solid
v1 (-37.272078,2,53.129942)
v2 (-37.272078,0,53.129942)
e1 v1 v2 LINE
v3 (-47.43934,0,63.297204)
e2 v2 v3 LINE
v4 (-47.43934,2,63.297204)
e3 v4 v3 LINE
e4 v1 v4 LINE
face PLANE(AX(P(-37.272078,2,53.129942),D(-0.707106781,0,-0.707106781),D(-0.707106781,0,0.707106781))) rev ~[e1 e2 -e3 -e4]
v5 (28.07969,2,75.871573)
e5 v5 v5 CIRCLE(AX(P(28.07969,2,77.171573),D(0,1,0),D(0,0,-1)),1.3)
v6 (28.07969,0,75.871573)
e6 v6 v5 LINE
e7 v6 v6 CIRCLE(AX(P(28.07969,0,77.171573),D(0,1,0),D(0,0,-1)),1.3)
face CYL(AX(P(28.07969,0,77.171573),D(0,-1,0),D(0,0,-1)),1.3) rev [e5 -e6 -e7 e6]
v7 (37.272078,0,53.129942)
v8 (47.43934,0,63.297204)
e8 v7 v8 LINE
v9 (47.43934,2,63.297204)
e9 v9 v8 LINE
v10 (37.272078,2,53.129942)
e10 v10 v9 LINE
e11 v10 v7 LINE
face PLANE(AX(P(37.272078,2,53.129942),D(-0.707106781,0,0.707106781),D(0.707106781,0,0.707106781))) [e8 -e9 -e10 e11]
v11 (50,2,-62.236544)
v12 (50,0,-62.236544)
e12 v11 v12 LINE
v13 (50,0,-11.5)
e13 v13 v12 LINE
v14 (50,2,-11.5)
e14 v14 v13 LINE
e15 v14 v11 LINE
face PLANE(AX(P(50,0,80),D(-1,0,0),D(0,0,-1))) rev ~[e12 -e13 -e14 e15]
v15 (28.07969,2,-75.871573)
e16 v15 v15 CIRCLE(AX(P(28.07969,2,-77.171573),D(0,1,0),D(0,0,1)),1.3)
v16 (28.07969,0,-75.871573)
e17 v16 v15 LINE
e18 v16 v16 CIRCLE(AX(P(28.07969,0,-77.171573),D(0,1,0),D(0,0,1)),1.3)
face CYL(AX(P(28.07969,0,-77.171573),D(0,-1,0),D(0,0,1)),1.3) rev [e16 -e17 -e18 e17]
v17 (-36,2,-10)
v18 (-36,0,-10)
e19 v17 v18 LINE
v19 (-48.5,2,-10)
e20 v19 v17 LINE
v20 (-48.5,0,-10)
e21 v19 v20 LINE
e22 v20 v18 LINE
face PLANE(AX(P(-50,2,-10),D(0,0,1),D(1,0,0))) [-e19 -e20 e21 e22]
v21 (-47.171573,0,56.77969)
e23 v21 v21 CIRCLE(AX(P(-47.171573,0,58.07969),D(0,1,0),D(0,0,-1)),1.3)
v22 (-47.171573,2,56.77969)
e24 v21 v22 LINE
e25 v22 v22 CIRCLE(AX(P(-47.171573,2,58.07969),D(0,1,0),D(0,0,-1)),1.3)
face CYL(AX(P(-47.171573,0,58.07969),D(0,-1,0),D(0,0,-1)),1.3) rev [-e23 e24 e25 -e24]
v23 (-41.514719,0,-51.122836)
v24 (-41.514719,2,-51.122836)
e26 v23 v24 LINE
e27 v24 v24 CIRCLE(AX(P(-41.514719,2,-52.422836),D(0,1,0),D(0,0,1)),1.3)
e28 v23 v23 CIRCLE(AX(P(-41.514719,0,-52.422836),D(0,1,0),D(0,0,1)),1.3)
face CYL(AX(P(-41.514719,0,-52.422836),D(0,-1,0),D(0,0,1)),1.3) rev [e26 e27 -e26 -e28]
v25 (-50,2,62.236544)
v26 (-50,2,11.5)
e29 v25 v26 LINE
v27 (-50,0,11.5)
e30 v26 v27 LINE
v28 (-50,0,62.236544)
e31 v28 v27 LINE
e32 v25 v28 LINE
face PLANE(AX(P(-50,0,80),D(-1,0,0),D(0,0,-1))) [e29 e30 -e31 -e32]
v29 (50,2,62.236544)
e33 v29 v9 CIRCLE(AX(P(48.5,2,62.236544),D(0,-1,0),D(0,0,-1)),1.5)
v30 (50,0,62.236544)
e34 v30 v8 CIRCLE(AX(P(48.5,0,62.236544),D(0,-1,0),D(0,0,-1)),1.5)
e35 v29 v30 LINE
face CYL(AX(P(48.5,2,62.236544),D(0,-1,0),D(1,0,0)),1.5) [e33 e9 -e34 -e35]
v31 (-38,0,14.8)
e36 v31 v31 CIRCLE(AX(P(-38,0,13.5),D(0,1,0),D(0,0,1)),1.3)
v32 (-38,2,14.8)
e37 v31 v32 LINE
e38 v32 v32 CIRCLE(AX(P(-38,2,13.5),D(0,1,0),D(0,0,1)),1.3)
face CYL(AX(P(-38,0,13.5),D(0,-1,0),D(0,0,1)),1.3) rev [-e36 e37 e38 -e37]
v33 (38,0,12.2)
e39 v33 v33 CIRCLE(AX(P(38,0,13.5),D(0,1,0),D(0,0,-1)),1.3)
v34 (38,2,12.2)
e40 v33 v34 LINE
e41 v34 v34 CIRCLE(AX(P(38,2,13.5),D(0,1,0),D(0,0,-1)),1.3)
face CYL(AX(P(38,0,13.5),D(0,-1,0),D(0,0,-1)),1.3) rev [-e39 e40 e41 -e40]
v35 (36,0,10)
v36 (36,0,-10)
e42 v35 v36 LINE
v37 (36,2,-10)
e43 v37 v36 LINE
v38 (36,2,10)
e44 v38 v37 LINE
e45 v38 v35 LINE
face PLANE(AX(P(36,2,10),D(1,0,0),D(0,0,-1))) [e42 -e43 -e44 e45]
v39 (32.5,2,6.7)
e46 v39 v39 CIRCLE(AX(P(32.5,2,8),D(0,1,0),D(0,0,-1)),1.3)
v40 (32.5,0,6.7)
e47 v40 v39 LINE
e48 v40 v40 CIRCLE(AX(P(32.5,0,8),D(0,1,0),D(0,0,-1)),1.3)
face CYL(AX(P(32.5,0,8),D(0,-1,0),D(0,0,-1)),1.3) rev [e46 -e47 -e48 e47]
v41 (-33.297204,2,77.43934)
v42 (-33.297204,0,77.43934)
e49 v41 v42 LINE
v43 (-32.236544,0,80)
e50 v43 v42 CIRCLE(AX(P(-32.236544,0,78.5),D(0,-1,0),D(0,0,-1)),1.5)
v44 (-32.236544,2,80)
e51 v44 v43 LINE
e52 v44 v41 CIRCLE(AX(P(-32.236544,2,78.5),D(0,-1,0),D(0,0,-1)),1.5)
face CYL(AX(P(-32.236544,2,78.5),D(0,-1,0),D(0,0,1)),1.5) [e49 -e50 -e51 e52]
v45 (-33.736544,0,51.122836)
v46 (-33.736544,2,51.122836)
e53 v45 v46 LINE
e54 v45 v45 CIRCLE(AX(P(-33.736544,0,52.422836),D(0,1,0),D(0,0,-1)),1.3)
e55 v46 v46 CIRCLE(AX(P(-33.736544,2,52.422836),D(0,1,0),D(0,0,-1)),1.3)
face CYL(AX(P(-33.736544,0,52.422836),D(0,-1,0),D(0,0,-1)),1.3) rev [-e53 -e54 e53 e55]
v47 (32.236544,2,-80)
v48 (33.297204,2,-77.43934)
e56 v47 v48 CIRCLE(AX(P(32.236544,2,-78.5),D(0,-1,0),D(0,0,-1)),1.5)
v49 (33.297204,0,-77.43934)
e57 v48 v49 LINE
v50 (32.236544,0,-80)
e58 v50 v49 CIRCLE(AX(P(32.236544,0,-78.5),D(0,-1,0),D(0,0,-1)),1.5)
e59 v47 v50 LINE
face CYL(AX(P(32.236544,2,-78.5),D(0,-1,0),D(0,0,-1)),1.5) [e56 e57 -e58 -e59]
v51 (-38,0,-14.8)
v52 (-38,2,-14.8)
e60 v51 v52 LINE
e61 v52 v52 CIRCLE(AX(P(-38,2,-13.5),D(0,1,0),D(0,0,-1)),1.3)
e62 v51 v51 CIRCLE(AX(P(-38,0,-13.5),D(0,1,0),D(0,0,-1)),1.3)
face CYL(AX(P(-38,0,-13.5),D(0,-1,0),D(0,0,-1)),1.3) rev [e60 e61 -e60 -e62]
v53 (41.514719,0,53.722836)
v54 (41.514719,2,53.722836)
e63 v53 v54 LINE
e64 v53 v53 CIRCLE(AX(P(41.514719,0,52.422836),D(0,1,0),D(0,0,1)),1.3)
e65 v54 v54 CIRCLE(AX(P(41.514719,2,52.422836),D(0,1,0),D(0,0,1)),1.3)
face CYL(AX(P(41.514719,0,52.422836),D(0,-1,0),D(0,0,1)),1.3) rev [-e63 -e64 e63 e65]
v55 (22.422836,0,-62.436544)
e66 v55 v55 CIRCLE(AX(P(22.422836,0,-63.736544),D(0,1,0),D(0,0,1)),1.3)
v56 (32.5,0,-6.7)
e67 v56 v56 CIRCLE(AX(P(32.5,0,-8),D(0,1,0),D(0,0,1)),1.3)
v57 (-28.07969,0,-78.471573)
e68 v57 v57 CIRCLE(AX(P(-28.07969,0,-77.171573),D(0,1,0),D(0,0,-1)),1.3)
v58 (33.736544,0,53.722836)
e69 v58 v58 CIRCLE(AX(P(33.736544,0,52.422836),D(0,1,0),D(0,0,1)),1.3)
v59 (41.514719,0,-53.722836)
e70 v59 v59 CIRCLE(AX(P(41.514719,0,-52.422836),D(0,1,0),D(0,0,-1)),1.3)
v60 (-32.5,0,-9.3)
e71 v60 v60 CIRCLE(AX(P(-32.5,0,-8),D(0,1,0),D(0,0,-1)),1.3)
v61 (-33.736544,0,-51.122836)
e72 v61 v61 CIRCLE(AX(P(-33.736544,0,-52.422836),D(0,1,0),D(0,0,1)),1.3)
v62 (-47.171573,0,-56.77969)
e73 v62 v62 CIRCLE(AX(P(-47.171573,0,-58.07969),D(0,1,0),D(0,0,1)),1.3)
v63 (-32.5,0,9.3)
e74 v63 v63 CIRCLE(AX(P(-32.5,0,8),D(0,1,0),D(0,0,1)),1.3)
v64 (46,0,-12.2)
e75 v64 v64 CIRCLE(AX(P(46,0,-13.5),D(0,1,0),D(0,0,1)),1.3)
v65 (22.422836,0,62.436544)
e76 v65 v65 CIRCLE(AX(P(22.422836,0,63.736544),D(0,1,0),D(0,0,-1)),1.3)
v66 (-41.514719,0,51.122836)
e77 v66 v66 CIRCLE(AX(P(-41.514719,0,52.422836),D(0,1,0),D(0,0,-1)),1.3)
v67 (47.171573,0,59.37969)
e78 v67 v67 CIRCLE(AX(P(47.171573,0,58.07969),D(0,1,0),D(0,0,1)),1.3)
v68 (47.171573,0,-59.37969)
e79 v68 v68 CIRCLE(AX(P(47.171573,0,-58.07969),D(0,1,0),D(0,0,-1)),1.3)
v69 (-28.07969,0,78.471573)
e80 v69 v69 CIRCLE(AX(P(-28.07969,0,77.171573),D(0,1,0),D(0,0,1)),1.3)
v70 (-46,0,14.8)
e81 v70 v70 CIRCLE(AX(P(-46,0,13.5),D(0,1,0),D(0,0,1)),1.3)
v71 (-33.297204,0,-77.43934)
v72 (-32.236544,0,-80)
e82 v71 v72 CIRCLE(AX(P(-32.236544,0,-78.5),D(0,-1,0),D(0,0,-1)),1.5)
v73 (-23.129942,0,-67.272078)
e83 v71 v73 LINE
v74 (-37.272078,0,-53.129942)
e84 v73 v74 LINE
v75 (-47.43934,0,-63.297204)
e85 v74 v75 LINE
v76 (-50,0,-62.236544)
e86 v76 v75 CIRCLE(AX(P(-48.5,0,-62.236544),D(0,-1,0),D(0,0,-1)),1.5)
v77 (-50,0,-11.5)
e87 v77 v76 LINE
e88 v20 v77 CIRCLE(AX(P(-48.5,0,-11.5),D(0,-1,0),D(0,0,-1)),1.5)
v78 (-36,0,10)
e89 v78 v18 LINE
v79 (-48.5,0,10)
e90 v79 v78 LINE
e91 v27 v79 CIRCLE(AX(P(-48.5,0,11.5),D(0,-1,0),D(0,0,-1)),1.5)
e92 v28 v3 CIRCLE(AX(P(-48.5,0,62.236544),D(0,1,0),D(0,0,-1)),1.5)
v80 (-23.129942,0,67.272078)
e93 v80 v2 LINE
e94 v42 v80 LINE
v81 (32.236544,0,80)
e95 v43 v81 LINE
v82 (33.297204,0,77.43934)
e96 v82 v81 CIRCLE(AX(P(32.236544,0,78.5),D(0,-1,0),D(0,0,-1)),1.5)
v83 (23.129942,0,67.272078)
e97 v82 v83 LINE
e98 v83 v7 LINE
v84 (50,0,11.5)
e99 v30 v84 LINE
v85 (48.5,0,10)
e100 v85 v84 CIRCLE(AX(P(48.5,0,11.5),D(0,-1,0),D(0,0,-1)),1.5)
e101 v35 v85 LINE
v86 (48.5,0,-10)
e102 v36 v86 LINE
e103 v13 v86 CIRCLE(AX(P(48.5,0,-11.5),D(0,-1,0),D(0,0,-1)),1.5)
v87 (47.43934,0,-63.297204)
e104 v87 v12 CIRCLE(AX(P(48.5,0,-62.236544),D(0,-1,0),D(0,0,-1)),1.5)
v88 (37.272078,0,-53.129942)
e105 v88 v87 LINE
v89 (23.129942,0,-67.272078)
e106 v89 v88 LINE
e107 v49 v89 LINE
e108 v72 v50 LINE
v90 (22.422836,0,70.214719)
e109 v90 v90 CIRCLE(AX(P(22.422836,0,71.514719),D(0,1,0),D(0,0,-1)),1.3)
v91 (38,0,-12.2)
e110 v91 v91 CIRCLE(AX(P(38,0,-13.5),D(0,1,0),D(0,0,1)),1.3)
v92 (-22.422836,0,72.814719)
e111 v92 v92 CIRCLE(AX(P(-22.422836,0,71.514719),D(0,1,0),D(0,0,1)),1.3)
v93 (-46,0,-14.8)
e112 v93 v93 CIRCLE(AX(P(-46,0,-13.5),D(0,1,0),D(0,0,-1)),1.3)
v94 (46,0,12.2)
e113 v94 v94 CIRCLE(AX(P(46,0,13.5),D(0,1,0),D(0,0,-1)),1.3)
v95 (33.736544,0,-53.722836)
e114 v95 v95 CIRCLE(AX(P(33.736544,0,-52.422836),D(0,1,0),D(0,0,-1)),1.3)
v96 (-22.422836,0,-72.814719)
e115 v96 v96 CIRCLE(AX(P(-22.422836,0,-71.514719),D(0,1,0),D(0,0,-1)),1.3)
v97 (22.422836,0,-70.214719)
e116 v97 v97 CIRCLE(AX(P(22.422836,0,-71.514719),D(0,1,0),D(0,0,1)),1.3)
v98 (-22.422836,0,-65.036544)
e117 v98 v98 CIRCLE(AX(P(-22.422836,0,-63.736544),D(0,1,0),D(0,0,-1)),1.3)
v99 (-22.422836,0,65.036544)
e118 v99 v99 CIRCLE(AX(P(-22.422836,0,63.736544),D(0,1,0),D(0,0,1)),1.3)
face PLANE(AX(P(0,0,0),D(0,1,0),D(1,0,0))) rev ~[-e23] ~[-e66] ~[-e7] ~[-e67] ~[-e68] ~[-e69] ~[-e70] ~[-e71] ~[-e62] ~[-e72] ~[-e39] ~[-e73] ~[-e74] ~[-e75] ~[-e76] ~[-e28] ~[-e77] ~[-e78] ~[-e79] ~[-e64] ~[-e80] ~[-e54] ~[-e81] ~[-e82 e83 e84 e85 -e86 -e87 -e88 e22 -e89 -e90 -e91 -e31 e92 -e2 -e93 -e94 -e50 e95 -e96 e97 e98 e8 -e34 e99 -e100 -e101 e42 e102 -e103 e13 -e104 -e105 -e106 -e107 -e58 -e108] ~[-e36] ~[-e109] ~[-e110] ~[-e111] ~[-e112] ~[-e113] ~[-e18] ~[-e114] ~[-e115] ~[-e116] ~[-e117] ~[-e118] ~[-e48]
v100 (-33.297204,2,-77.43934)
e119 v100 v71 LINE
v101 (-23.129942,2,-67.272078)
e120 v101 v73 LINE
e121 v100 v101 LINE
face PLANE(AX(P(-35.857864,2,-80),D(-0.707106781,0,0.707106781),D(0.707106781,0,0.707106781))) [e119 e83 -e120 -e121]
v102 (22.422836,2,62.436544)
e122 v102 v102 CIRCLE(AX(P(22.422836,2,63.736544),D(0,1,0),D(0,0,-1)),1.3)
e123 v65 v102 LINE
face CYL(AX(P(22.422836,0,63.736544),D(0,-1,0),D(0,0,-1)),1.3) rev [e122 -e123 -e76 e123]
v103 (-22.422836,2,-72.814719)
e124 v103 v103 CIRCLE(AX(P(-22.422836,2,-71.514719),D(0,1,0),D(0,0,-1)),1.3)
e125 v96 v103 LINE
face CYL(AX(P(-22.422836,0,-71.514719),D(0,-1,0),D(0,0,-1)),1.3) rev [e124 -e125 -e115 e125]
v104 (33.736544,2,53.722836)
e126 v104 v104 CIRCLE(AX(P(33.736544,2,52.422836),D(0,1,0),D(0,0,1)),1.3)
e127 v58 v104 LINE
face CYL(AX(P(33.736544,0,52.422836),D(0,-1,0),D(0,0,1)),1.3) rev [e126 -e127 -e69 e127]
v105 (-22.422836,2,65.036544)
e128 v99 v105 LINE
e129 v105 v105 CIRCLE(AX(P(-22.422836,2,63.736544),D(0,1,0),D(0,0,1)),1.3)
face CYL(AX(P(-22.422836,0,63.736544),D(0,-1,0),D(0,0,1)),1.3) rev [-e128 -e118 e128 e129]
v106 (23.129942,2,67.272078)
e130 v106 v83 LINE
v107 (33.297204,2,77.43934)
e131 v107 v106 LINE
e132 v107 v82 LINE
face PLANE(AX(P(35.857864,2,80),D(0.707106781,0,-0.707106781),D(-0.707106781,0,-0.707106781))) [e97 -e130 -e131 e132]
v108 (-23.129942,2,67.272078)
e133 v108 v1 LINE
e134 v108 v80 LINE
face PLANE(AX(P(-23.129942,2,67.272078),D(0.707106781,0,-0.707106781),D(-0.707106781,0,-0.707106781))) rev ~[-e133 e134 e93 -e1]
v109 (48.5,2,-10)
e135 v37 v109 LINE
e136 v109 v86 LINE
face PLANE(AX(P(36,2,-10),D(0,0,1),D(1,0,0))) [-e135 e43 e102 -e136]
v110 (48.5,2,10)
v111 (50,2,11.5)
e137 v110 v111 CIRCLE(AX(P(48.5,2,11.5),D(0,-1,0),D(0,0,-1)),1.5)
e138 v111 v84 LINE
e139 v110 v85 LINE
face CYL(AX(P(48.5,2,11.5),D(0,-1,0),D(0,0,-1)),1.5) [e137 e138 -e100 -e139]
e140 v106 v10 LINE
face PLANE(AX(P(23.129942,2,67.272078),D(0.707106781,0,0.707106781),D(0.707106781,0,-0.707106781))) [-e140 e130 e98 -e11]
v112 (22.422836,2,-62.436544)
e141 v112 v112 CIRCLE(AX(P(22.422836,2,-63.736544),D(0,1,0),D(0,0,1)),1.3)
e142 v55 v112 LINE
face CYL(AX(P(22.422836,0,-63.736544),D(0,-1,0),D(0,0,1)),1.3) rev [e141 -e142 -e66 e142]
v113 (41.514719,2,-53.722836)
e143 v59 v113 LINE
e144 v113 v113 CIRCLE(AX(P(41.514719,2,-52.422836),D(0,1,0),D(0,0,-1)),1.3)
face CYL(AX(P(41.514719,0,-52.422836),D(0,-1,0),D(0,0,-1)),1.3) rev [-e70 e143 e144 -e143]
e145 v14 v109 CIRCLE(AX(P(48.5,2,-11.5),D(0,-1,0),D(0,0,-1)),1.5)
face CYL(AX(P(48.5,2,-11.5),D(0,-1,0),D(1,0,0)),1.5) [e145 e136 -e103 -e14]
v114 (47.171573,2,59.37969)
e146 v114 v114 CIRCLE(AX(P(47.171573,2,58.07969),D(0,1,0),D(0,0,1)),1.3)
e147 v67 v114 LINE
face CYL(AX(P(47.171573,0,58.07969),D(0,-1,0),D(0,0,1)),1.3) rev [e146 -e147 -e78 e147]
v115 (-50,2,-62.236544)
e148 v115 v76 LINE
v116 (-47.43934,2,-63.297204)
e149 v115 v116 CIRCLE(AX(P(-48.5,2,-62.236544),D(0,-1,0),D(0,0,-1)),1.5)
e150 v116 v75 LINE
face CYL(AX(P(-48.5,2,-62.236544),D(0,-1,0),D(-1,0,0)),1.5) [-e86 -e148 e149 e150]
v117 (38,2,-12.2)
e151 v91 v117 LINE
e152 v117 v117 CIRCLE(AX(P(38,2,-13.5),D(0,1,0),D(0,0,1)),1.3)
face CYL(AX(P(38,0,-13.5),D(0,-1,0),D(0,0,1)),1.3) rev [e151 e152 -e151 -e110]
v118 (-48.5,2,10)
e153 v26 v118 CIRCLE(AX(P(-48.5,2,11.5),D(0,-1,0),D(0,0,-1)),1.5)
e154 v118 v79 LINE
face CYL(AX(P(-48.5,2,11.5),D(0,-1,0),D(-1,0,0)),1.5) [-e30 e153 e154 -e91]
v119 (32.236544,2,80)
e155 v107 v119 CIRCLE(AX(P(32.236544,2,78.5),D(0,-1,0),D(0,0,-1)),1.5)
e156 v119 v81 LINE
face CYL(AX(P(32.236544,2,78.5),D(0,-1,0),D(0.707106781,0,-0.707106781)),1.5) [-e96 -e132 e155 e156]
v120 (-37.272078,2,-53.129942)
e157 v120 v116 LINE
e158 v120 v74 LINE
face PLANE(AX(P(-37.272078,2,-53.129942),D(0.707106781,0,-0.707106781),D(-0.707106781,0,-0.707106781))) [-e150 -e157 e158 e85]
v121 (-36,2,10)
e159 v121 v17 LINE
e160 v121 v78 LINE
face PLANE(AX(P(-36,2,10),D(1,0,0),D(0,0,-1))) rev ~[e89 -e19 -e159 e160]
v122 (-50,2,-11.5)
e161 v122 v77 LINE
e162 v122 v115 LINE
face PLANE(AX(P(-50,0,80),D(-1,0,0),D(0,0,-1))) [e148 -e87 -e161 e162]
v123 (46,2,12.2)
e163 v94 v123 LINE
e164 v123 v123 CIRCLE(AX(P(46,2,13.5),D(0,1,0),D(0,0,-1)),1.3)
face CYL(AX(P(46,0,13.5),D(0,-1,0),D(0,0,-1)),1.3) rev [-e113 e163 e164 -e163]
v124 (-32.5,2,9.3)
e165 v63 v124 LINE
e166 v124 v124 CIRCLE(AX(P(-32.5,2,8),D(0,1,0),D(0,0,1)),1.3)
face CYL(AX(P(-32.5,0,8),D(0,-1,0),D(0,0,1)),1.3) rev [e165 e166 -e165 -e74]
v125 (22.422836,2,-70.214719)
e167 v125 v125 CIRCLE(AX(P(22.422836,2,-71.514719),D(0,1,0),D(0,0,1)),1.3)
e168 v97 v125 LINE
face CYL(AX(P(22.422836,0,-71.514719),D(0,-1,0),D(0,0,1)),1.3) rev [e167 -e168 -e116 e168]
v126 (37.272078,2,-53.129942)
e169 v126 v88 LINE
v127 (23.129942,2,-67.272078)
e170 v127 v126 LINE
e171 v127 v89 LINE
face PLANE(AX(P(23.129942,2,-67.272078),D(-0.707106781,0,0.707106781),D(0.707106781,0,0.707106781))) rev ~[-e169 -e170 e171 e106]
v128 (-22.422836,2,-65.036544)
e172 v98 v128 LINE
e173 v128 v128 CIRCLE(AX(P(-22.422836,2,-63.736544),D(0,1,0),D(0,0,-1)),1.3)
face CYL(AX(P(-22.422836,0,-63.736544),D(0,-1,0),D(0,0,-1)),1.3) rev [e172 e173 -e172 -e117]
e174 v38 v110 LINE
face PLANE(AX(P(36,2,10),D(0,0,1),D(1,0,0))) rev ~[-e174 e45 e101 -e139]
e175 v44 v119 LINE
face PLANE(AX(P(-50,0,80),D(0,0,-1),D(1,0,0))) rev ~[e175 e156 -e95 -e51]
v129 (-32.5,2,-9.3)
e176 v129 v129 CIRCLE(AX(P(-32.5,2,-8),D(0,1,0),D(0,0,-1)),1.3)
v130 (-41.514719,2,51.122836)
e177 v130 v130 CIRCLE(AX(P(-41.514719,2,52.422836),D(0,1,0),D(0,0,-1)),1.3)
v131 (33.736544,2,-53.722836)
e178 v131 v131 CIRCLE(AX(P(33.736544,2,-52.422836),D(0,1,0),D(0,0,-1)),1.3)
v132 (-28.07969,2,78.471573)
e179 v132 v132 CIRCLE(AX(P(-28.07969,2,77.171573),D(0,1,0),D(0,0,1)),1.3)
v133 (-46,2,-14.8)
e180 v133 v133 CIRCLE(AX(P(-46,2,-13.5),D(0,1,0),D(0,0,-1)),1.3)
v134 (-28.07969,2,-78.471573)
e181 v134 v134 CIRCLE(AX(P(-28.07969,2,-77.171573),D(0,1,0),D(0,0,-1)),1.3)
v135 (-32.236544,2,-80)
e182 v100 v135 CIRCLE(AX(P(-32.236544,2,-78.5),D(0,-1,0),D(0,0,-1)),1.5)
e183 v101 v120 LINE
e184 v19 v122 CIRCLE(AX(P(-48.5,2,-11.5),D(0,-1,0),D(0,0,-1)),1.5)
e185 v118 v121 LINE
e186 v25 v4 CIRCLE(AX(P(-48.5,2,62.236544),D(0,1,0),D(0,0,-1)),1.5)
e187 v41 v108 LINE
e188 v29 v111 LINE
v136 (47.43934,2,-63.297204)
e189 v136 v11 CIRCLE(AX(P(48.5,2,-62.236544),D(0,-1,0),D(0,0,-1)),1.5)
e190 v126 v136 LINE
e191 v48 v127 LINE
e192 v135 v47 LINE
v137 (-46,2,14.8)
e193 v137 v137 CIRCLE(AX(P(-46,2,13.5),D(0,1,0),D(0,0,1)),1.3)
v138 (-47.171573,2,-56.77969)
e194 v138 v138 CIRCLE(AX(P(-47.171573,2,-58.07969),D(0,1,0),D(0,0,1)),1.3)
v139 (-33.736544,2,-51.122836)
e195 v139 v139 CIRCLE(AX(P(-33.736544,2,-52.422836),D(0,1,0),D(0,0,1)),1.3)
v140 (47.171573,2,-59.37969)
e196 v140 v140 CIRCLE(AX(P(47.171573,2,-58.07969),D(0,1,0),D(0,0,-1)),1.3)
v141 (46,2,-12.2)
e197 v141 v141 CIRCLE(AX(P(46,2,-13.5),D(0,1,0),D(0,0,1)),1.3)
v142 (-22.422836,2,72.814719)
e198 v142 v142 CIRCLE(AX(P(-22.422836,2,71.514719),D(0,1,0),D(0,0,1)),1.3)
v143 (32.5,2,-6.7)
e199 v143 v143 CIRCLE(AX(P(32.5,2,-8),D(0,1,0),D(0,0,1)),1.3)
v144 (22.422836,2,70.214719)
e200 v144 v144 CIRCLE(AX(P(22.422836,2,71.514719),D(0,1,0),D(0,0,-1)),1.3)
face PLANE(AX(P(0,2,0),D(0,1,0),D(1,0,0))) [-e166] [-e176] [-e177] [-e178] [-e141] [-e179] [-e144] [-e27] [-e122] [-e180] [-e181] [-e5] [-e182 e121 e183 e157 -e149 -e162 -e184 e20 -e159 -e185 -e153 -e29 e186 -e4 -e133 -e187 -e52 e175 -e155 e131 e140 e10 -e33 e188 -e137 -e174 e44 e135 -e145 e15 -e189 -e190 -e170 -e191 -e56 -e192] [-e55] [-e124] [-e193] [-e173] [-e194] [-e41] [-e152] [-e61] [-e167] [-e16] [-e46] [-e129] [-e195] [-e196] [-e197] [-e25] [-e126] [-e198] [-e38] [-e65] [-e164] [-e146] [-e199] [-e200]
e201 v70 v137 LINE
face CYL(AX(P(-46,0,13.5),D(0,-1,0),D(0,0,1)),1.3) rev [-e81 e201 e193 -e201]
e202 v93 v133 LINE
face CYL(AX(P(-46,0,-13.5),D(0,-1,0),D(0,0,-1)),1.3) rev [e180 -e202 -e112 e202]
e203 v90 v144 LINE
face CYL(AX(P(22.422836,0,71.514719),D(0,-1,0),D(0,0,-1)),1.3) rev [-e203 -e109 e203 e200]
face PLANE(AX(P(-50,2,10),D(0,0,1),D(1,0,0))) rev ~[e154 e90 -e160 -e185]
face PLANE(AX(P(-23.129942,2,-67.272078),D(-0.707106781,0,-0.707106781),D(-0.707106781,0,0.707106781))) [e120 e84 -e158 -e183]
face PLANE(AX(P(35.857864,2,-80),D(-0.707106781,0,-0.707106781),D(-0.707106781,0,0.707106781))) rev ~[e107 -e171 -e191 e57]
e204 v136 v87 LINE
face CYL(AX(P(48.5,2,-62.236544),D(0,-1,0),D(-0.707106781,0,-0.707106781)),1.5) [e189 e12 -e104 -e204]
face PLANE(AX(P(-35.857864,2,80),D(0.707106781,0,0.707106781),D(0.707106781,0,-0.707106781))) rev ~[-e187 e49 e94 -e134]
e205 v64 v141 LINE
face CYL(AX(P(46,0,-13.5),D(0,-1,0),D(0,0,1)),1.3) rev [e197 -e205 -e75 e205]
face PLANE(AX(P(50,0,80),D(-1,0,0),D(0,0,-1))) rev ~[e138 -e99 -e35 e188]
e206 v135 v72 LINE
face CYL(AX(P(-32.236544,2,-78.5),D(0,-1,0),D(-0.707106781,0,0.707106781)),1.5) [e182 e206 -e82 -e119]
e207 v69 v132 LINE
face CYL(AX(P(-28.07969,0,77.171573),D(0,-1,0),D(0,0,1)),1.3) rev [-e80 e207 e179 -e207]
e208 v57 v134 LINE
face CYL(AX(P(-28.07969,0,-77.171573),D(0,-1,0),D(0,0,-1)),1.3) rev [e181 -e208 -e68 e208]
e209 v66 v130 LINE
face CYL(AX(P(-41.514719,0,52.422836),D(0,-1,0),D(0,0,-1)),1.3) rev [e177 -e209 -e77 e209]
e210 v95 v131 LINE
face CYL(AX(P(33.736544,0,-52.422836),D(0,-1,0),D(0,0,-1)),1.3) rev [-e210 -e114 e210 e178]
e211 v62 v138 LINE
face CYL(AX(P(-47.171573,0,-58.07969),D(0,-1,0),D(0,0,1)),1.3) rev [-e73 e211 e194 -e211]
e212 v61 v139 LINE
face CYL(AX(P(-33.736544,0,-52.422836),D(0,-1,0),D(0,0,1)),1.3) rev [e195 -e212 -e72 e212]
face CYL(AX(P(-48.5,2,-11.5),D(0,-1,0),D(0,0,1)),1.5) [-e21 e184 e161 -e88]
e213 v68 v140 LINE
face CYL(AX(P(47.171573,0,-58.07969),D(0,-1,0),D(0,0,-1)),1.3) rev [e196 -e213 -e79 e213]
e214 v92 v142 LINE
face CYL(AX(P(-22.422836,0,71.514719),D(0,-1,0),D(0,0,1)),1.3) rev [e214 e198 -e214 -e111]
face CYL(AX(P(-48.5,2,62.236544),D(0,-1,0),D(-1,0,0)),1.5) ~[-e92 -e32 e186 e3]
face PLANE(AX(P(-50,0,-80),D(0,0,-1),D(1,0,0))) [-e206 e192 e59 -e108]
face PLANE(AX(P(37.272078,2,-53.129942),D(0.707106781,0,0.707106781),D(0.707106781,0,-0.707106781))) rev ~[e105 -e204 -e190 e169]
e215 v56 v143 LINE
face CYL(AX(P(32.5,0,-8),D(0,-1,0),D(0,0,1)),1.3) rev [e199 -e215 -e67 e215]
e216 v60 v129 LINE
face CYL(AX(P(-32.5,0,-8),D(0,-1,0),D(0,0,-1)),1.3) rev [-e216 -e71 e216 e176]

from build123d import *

# Parameters (mm, degrees)
SKETCH2_W           = 100
SKETCH2_H           = 160
SKETCH2_R           = 1.3
BOSS_EXTRUDE1_DEPTH = 2
SKETCH3_W           = 14
SKETCH3_H           = 20
CUT_EXTRUDE1_DEPTH  = 2
FILLET1_R           = 1.5


with BuildPart() as part:
    # Sketch2 → Boss-Extrude1 (new body)
    with BuildSketch(Plane(origin=(0, 0, 0), x_dir=(1, 0, 0), z_dir=(0, 1, 0))):
        Rectangle(SKETCH2_W, SKETCH2_H)
        with Locations(Location((22.422835534, 63.736544033, 0), (0, 0, 270))):
            Circle(SKETCH2_R, mode=Mode.SUBTRACT)
        with Locations(Location((22.422835534, 71.514718626, 0), (0, 0, 270))):
            Circle(SKETCH2_R, mode=Mode.SUBTRACT)
        with Locations(Location((28.079689783, 77.171572875, 0), (0, 0, 270))):
            Circle(SKETCH2_R, mode=Mode.SUBTRACT)
        with Locations(Location((46, 13.5, 0), (0, 0, 270))):
            Circle(SKETCH2_R, mode=Mode.SUBTRACT)
        with Locations(Location((38, 13.5, 0), (0, 0, 270))):
            Circle(SKETCH2_R, mode=Mode.SUBTRACT)
        with Locations(Location((32.5, 8, 0), (0, 0, 270))):
            Circle(SKETCH2_R, mode=Mode.SUBTRACT)
        with Locations(Location((32.5, -8, 0), (0, 0, 90))):
            Circle(SKETCH2_R, mode=Mode.SUBTRACT)
        with Locations(Location((38, -13.5, 0), (0, 0, 90))):
            Circle(SKETCH2_R, mode=Mode.SUBTRACT)
        with Locations(Location((46, -13.5, 0), (0, 0, 90))):
            Circle(SKETCH2_R, mode=Mode.SUBTRACT)
        with Locations(Location((47.171572875, 58.079689783, 0), (0, 0, 90))):
            Circle(SKETCH2_R, mode=Mode.SUBTRACT)
        with Locations(Location((41.514718626, 52.422835534, 0), (0, 0, 90))):
            Circle(SKETCH2_R, mode=Mode.SUBTRACT)
        with Locations(Location((33.736544033, 52.422835534, 0), (0, 0, 90))):
            Circle(SKETCH2_R, mode=Mode.SUBTRACT)
        with Locations(Location((47.171572875, -58.079689783, 0), (0, 0, 270))):
            Circle(SKETCH2_R, mode=Mode.SUBTRACT)
        with Locations(Location((41.514718626, -52.422835534, 0), (0, 0, 270))):
            Circle(SKETCH2_R, mode=Mode.SUBTRACT)
        with Locations(Location((33.736544033, -52.422835534, 0), (0, 0, 270))):
            Circle(SKETCH2_R, mode=Mode.SUBTRACT)
        with Locations(Location((28.079689783, -77.171572875, 0), (0, 0, 90))):
            Circle(SKETCH2_R, mode=Mode.SUBTRACT)
        with Locations(Location((22.422835534, -71.514718626, 0), (0, 0, 90))):
            Circle(SKETCH2_R, mode=Mode.SUBTRACT)
        with Locations(Location((22.422835534, -63.736544033, 0), (0, 0, 90))):
            Circle(SKETCH2_R, mode=Mode.SUBTRACT)
        with Locations(Location((-28.079689783, 77.171572875, 0), (0, 0, 90))):
            Circle(SKETCH2_R, mode=Mode.SUBTRACT)
        with Locations(Location((-22.422835534, 71.514718626, 0), (0, 0, 90))):
            Circle(SKETCH2_R, mode=Mode.SUBTRACT)
        with Locations(Location((-22.422835534, 63.736544033, 0), (0, 0, 90))):
            Circle(SKETCH2_R, mode=Mode.SUBTRACT)
        with Locations(Location((-47.171572875, 58.079689783, 0), (0, 0, 270))):
            Circle(SKETCH2_R, mode=Mode.SUBTRACT)
        with Locations(Location((-41.514718626, 52.422835534, 0), (0, 0, 270))):
            Circle(SKETCH2_R, mode=Mode.SUBTRACT)
        with Locations(Location((-33.736544033, 52.422835534, 0), (0, 0, 270))):
            Circle(SKETCH2_R, mode=Mode.SUBTRACT)
        with Locations(Location((-47.171572875, -58.079689783, 0), (0, 0, 90))):
            Circle(SKETCH2_R, mode=Mode.SUBTRACT)
        with Locations(Location((-41.514718626, -52.422835534, 0), (0, 0, 90))):
            Circle(SKETCH2_R, mode=Mode.SUBTRACT)
        with Locations(Location((-33.736544033, -52.422835534, 0), (0, 0, 90))):
            Circle(SKETCH2_R, mode=Mode.SUBTRACT)
        with Locations(Location((-22.422835534, -63.736544033, 0), (0, 0, 270))):
            Circle(SKETCH2_R, mode=Mode.SUBTRACT)
        with Locations(Location((-22.422835534, -71.514718626, 0), (0, 0, 270))):
            Circle(SKETCH2_R, mode=Mode.SUBTRACT)
        with Locations(Location((-28.079689783, -77.171572875, 0), (0, 0, 270))):
            Circle(SKETCH2_R, mode=Mode.SUBTRACT)
        with Locations(Location((-32.5, -8, 0), (0, 0, 270))):
            Circle(SKETCH2_R, mode=Mode.SUBTRACT)
        with Locations(Location((-38, -13.5, 0), (0, 0, 270))):
            Circle(SKETCH2_R, mode=Mode.SUBTRACT)
        with Locations(Location((-46, -13.5, 0), (0, 0, 270))):
            Circle(SKETCH2_R, mode=Mode.SUBTRACT)
        with Locations(Location((-46, 13.5, 0), (0, 0, 90))):
            Circle(SKETCH2_R, mode=Mode.SUBTRACT)
        with Locations(Location((-38, 13.5, 0), (0, 0, 90))):
            Circle(SKETCH2_R, mode=Mode.SUBTRACT)
        with Locations(Location((-32.5, 8, 0), (0, 0, 90))):
            Circle(SKETCH2_R, mode=Mode.SUBTRACT)
    extrude(amount=BOSS_EXTRUDE1_DEPTH)

    # Sketch3 → Cut-Extrude1 (cut)
    with BuildSketch(Plane(origin=(0, 2, 0), x_dir=(1, 0, 0), z_dir=(0, 1, 0))):
        with Locations((43, 0)):
            Rectangle(SKETCH3_W, SKETCH3_H)
        Polygon((35.857864376, 80), (23.129942315, 67.272077939), (37.272077939, 53.129942315), (50, 65.857864376), (50, 80), align=None)
        Polygon((50, -65.857864376), (50, -80), (35.857864376, -80), (23.129942315, -67.272077939), (37.272077939, -53.129942315), align=None)
        Polygon((-50, 65.857864376), (-50, 80), (-35.857864376, 80), (-23.129942315, 67.272077939), (-37.272077939, 53.129942315), align=None)
        with Locations((-43, 0)):
            Rectangle(SKETCH3_W, SKETCH3_H)
        Polygon((-37.272077939, -53.129942315), (-50, -65.857864376), (-50, -80), (-35.857864376, -80), (-23.129942315, -67.272077939), align=None)
    extrude(amount=-CUT_EXTRUDE1_DEPTH, mode=Mode.SUBTRACT)

    # Fillet1
    fillet1_edges = [part.edges().sort_by_distance(p)[0] for p in [
        (35.857864376, 1, -80),
        (50, 1, -65.857864376),
        (50, 1, 65.857864376),
        (35.857864376, 1, 80),
        (-50, 1, -65.857864376),
        (-35.857864376, 1, -80),
        (-50, 1, 10),
        (-50, 1, -10),
        (-35.857864376, 1, 80),
        (-50, 1, 65.857864376),
        (50, 1, -10),
        (50, 1, 10),
    ]]
    fillet(fillet1_edges, radius=FILLET1_R)


solid = part.part
